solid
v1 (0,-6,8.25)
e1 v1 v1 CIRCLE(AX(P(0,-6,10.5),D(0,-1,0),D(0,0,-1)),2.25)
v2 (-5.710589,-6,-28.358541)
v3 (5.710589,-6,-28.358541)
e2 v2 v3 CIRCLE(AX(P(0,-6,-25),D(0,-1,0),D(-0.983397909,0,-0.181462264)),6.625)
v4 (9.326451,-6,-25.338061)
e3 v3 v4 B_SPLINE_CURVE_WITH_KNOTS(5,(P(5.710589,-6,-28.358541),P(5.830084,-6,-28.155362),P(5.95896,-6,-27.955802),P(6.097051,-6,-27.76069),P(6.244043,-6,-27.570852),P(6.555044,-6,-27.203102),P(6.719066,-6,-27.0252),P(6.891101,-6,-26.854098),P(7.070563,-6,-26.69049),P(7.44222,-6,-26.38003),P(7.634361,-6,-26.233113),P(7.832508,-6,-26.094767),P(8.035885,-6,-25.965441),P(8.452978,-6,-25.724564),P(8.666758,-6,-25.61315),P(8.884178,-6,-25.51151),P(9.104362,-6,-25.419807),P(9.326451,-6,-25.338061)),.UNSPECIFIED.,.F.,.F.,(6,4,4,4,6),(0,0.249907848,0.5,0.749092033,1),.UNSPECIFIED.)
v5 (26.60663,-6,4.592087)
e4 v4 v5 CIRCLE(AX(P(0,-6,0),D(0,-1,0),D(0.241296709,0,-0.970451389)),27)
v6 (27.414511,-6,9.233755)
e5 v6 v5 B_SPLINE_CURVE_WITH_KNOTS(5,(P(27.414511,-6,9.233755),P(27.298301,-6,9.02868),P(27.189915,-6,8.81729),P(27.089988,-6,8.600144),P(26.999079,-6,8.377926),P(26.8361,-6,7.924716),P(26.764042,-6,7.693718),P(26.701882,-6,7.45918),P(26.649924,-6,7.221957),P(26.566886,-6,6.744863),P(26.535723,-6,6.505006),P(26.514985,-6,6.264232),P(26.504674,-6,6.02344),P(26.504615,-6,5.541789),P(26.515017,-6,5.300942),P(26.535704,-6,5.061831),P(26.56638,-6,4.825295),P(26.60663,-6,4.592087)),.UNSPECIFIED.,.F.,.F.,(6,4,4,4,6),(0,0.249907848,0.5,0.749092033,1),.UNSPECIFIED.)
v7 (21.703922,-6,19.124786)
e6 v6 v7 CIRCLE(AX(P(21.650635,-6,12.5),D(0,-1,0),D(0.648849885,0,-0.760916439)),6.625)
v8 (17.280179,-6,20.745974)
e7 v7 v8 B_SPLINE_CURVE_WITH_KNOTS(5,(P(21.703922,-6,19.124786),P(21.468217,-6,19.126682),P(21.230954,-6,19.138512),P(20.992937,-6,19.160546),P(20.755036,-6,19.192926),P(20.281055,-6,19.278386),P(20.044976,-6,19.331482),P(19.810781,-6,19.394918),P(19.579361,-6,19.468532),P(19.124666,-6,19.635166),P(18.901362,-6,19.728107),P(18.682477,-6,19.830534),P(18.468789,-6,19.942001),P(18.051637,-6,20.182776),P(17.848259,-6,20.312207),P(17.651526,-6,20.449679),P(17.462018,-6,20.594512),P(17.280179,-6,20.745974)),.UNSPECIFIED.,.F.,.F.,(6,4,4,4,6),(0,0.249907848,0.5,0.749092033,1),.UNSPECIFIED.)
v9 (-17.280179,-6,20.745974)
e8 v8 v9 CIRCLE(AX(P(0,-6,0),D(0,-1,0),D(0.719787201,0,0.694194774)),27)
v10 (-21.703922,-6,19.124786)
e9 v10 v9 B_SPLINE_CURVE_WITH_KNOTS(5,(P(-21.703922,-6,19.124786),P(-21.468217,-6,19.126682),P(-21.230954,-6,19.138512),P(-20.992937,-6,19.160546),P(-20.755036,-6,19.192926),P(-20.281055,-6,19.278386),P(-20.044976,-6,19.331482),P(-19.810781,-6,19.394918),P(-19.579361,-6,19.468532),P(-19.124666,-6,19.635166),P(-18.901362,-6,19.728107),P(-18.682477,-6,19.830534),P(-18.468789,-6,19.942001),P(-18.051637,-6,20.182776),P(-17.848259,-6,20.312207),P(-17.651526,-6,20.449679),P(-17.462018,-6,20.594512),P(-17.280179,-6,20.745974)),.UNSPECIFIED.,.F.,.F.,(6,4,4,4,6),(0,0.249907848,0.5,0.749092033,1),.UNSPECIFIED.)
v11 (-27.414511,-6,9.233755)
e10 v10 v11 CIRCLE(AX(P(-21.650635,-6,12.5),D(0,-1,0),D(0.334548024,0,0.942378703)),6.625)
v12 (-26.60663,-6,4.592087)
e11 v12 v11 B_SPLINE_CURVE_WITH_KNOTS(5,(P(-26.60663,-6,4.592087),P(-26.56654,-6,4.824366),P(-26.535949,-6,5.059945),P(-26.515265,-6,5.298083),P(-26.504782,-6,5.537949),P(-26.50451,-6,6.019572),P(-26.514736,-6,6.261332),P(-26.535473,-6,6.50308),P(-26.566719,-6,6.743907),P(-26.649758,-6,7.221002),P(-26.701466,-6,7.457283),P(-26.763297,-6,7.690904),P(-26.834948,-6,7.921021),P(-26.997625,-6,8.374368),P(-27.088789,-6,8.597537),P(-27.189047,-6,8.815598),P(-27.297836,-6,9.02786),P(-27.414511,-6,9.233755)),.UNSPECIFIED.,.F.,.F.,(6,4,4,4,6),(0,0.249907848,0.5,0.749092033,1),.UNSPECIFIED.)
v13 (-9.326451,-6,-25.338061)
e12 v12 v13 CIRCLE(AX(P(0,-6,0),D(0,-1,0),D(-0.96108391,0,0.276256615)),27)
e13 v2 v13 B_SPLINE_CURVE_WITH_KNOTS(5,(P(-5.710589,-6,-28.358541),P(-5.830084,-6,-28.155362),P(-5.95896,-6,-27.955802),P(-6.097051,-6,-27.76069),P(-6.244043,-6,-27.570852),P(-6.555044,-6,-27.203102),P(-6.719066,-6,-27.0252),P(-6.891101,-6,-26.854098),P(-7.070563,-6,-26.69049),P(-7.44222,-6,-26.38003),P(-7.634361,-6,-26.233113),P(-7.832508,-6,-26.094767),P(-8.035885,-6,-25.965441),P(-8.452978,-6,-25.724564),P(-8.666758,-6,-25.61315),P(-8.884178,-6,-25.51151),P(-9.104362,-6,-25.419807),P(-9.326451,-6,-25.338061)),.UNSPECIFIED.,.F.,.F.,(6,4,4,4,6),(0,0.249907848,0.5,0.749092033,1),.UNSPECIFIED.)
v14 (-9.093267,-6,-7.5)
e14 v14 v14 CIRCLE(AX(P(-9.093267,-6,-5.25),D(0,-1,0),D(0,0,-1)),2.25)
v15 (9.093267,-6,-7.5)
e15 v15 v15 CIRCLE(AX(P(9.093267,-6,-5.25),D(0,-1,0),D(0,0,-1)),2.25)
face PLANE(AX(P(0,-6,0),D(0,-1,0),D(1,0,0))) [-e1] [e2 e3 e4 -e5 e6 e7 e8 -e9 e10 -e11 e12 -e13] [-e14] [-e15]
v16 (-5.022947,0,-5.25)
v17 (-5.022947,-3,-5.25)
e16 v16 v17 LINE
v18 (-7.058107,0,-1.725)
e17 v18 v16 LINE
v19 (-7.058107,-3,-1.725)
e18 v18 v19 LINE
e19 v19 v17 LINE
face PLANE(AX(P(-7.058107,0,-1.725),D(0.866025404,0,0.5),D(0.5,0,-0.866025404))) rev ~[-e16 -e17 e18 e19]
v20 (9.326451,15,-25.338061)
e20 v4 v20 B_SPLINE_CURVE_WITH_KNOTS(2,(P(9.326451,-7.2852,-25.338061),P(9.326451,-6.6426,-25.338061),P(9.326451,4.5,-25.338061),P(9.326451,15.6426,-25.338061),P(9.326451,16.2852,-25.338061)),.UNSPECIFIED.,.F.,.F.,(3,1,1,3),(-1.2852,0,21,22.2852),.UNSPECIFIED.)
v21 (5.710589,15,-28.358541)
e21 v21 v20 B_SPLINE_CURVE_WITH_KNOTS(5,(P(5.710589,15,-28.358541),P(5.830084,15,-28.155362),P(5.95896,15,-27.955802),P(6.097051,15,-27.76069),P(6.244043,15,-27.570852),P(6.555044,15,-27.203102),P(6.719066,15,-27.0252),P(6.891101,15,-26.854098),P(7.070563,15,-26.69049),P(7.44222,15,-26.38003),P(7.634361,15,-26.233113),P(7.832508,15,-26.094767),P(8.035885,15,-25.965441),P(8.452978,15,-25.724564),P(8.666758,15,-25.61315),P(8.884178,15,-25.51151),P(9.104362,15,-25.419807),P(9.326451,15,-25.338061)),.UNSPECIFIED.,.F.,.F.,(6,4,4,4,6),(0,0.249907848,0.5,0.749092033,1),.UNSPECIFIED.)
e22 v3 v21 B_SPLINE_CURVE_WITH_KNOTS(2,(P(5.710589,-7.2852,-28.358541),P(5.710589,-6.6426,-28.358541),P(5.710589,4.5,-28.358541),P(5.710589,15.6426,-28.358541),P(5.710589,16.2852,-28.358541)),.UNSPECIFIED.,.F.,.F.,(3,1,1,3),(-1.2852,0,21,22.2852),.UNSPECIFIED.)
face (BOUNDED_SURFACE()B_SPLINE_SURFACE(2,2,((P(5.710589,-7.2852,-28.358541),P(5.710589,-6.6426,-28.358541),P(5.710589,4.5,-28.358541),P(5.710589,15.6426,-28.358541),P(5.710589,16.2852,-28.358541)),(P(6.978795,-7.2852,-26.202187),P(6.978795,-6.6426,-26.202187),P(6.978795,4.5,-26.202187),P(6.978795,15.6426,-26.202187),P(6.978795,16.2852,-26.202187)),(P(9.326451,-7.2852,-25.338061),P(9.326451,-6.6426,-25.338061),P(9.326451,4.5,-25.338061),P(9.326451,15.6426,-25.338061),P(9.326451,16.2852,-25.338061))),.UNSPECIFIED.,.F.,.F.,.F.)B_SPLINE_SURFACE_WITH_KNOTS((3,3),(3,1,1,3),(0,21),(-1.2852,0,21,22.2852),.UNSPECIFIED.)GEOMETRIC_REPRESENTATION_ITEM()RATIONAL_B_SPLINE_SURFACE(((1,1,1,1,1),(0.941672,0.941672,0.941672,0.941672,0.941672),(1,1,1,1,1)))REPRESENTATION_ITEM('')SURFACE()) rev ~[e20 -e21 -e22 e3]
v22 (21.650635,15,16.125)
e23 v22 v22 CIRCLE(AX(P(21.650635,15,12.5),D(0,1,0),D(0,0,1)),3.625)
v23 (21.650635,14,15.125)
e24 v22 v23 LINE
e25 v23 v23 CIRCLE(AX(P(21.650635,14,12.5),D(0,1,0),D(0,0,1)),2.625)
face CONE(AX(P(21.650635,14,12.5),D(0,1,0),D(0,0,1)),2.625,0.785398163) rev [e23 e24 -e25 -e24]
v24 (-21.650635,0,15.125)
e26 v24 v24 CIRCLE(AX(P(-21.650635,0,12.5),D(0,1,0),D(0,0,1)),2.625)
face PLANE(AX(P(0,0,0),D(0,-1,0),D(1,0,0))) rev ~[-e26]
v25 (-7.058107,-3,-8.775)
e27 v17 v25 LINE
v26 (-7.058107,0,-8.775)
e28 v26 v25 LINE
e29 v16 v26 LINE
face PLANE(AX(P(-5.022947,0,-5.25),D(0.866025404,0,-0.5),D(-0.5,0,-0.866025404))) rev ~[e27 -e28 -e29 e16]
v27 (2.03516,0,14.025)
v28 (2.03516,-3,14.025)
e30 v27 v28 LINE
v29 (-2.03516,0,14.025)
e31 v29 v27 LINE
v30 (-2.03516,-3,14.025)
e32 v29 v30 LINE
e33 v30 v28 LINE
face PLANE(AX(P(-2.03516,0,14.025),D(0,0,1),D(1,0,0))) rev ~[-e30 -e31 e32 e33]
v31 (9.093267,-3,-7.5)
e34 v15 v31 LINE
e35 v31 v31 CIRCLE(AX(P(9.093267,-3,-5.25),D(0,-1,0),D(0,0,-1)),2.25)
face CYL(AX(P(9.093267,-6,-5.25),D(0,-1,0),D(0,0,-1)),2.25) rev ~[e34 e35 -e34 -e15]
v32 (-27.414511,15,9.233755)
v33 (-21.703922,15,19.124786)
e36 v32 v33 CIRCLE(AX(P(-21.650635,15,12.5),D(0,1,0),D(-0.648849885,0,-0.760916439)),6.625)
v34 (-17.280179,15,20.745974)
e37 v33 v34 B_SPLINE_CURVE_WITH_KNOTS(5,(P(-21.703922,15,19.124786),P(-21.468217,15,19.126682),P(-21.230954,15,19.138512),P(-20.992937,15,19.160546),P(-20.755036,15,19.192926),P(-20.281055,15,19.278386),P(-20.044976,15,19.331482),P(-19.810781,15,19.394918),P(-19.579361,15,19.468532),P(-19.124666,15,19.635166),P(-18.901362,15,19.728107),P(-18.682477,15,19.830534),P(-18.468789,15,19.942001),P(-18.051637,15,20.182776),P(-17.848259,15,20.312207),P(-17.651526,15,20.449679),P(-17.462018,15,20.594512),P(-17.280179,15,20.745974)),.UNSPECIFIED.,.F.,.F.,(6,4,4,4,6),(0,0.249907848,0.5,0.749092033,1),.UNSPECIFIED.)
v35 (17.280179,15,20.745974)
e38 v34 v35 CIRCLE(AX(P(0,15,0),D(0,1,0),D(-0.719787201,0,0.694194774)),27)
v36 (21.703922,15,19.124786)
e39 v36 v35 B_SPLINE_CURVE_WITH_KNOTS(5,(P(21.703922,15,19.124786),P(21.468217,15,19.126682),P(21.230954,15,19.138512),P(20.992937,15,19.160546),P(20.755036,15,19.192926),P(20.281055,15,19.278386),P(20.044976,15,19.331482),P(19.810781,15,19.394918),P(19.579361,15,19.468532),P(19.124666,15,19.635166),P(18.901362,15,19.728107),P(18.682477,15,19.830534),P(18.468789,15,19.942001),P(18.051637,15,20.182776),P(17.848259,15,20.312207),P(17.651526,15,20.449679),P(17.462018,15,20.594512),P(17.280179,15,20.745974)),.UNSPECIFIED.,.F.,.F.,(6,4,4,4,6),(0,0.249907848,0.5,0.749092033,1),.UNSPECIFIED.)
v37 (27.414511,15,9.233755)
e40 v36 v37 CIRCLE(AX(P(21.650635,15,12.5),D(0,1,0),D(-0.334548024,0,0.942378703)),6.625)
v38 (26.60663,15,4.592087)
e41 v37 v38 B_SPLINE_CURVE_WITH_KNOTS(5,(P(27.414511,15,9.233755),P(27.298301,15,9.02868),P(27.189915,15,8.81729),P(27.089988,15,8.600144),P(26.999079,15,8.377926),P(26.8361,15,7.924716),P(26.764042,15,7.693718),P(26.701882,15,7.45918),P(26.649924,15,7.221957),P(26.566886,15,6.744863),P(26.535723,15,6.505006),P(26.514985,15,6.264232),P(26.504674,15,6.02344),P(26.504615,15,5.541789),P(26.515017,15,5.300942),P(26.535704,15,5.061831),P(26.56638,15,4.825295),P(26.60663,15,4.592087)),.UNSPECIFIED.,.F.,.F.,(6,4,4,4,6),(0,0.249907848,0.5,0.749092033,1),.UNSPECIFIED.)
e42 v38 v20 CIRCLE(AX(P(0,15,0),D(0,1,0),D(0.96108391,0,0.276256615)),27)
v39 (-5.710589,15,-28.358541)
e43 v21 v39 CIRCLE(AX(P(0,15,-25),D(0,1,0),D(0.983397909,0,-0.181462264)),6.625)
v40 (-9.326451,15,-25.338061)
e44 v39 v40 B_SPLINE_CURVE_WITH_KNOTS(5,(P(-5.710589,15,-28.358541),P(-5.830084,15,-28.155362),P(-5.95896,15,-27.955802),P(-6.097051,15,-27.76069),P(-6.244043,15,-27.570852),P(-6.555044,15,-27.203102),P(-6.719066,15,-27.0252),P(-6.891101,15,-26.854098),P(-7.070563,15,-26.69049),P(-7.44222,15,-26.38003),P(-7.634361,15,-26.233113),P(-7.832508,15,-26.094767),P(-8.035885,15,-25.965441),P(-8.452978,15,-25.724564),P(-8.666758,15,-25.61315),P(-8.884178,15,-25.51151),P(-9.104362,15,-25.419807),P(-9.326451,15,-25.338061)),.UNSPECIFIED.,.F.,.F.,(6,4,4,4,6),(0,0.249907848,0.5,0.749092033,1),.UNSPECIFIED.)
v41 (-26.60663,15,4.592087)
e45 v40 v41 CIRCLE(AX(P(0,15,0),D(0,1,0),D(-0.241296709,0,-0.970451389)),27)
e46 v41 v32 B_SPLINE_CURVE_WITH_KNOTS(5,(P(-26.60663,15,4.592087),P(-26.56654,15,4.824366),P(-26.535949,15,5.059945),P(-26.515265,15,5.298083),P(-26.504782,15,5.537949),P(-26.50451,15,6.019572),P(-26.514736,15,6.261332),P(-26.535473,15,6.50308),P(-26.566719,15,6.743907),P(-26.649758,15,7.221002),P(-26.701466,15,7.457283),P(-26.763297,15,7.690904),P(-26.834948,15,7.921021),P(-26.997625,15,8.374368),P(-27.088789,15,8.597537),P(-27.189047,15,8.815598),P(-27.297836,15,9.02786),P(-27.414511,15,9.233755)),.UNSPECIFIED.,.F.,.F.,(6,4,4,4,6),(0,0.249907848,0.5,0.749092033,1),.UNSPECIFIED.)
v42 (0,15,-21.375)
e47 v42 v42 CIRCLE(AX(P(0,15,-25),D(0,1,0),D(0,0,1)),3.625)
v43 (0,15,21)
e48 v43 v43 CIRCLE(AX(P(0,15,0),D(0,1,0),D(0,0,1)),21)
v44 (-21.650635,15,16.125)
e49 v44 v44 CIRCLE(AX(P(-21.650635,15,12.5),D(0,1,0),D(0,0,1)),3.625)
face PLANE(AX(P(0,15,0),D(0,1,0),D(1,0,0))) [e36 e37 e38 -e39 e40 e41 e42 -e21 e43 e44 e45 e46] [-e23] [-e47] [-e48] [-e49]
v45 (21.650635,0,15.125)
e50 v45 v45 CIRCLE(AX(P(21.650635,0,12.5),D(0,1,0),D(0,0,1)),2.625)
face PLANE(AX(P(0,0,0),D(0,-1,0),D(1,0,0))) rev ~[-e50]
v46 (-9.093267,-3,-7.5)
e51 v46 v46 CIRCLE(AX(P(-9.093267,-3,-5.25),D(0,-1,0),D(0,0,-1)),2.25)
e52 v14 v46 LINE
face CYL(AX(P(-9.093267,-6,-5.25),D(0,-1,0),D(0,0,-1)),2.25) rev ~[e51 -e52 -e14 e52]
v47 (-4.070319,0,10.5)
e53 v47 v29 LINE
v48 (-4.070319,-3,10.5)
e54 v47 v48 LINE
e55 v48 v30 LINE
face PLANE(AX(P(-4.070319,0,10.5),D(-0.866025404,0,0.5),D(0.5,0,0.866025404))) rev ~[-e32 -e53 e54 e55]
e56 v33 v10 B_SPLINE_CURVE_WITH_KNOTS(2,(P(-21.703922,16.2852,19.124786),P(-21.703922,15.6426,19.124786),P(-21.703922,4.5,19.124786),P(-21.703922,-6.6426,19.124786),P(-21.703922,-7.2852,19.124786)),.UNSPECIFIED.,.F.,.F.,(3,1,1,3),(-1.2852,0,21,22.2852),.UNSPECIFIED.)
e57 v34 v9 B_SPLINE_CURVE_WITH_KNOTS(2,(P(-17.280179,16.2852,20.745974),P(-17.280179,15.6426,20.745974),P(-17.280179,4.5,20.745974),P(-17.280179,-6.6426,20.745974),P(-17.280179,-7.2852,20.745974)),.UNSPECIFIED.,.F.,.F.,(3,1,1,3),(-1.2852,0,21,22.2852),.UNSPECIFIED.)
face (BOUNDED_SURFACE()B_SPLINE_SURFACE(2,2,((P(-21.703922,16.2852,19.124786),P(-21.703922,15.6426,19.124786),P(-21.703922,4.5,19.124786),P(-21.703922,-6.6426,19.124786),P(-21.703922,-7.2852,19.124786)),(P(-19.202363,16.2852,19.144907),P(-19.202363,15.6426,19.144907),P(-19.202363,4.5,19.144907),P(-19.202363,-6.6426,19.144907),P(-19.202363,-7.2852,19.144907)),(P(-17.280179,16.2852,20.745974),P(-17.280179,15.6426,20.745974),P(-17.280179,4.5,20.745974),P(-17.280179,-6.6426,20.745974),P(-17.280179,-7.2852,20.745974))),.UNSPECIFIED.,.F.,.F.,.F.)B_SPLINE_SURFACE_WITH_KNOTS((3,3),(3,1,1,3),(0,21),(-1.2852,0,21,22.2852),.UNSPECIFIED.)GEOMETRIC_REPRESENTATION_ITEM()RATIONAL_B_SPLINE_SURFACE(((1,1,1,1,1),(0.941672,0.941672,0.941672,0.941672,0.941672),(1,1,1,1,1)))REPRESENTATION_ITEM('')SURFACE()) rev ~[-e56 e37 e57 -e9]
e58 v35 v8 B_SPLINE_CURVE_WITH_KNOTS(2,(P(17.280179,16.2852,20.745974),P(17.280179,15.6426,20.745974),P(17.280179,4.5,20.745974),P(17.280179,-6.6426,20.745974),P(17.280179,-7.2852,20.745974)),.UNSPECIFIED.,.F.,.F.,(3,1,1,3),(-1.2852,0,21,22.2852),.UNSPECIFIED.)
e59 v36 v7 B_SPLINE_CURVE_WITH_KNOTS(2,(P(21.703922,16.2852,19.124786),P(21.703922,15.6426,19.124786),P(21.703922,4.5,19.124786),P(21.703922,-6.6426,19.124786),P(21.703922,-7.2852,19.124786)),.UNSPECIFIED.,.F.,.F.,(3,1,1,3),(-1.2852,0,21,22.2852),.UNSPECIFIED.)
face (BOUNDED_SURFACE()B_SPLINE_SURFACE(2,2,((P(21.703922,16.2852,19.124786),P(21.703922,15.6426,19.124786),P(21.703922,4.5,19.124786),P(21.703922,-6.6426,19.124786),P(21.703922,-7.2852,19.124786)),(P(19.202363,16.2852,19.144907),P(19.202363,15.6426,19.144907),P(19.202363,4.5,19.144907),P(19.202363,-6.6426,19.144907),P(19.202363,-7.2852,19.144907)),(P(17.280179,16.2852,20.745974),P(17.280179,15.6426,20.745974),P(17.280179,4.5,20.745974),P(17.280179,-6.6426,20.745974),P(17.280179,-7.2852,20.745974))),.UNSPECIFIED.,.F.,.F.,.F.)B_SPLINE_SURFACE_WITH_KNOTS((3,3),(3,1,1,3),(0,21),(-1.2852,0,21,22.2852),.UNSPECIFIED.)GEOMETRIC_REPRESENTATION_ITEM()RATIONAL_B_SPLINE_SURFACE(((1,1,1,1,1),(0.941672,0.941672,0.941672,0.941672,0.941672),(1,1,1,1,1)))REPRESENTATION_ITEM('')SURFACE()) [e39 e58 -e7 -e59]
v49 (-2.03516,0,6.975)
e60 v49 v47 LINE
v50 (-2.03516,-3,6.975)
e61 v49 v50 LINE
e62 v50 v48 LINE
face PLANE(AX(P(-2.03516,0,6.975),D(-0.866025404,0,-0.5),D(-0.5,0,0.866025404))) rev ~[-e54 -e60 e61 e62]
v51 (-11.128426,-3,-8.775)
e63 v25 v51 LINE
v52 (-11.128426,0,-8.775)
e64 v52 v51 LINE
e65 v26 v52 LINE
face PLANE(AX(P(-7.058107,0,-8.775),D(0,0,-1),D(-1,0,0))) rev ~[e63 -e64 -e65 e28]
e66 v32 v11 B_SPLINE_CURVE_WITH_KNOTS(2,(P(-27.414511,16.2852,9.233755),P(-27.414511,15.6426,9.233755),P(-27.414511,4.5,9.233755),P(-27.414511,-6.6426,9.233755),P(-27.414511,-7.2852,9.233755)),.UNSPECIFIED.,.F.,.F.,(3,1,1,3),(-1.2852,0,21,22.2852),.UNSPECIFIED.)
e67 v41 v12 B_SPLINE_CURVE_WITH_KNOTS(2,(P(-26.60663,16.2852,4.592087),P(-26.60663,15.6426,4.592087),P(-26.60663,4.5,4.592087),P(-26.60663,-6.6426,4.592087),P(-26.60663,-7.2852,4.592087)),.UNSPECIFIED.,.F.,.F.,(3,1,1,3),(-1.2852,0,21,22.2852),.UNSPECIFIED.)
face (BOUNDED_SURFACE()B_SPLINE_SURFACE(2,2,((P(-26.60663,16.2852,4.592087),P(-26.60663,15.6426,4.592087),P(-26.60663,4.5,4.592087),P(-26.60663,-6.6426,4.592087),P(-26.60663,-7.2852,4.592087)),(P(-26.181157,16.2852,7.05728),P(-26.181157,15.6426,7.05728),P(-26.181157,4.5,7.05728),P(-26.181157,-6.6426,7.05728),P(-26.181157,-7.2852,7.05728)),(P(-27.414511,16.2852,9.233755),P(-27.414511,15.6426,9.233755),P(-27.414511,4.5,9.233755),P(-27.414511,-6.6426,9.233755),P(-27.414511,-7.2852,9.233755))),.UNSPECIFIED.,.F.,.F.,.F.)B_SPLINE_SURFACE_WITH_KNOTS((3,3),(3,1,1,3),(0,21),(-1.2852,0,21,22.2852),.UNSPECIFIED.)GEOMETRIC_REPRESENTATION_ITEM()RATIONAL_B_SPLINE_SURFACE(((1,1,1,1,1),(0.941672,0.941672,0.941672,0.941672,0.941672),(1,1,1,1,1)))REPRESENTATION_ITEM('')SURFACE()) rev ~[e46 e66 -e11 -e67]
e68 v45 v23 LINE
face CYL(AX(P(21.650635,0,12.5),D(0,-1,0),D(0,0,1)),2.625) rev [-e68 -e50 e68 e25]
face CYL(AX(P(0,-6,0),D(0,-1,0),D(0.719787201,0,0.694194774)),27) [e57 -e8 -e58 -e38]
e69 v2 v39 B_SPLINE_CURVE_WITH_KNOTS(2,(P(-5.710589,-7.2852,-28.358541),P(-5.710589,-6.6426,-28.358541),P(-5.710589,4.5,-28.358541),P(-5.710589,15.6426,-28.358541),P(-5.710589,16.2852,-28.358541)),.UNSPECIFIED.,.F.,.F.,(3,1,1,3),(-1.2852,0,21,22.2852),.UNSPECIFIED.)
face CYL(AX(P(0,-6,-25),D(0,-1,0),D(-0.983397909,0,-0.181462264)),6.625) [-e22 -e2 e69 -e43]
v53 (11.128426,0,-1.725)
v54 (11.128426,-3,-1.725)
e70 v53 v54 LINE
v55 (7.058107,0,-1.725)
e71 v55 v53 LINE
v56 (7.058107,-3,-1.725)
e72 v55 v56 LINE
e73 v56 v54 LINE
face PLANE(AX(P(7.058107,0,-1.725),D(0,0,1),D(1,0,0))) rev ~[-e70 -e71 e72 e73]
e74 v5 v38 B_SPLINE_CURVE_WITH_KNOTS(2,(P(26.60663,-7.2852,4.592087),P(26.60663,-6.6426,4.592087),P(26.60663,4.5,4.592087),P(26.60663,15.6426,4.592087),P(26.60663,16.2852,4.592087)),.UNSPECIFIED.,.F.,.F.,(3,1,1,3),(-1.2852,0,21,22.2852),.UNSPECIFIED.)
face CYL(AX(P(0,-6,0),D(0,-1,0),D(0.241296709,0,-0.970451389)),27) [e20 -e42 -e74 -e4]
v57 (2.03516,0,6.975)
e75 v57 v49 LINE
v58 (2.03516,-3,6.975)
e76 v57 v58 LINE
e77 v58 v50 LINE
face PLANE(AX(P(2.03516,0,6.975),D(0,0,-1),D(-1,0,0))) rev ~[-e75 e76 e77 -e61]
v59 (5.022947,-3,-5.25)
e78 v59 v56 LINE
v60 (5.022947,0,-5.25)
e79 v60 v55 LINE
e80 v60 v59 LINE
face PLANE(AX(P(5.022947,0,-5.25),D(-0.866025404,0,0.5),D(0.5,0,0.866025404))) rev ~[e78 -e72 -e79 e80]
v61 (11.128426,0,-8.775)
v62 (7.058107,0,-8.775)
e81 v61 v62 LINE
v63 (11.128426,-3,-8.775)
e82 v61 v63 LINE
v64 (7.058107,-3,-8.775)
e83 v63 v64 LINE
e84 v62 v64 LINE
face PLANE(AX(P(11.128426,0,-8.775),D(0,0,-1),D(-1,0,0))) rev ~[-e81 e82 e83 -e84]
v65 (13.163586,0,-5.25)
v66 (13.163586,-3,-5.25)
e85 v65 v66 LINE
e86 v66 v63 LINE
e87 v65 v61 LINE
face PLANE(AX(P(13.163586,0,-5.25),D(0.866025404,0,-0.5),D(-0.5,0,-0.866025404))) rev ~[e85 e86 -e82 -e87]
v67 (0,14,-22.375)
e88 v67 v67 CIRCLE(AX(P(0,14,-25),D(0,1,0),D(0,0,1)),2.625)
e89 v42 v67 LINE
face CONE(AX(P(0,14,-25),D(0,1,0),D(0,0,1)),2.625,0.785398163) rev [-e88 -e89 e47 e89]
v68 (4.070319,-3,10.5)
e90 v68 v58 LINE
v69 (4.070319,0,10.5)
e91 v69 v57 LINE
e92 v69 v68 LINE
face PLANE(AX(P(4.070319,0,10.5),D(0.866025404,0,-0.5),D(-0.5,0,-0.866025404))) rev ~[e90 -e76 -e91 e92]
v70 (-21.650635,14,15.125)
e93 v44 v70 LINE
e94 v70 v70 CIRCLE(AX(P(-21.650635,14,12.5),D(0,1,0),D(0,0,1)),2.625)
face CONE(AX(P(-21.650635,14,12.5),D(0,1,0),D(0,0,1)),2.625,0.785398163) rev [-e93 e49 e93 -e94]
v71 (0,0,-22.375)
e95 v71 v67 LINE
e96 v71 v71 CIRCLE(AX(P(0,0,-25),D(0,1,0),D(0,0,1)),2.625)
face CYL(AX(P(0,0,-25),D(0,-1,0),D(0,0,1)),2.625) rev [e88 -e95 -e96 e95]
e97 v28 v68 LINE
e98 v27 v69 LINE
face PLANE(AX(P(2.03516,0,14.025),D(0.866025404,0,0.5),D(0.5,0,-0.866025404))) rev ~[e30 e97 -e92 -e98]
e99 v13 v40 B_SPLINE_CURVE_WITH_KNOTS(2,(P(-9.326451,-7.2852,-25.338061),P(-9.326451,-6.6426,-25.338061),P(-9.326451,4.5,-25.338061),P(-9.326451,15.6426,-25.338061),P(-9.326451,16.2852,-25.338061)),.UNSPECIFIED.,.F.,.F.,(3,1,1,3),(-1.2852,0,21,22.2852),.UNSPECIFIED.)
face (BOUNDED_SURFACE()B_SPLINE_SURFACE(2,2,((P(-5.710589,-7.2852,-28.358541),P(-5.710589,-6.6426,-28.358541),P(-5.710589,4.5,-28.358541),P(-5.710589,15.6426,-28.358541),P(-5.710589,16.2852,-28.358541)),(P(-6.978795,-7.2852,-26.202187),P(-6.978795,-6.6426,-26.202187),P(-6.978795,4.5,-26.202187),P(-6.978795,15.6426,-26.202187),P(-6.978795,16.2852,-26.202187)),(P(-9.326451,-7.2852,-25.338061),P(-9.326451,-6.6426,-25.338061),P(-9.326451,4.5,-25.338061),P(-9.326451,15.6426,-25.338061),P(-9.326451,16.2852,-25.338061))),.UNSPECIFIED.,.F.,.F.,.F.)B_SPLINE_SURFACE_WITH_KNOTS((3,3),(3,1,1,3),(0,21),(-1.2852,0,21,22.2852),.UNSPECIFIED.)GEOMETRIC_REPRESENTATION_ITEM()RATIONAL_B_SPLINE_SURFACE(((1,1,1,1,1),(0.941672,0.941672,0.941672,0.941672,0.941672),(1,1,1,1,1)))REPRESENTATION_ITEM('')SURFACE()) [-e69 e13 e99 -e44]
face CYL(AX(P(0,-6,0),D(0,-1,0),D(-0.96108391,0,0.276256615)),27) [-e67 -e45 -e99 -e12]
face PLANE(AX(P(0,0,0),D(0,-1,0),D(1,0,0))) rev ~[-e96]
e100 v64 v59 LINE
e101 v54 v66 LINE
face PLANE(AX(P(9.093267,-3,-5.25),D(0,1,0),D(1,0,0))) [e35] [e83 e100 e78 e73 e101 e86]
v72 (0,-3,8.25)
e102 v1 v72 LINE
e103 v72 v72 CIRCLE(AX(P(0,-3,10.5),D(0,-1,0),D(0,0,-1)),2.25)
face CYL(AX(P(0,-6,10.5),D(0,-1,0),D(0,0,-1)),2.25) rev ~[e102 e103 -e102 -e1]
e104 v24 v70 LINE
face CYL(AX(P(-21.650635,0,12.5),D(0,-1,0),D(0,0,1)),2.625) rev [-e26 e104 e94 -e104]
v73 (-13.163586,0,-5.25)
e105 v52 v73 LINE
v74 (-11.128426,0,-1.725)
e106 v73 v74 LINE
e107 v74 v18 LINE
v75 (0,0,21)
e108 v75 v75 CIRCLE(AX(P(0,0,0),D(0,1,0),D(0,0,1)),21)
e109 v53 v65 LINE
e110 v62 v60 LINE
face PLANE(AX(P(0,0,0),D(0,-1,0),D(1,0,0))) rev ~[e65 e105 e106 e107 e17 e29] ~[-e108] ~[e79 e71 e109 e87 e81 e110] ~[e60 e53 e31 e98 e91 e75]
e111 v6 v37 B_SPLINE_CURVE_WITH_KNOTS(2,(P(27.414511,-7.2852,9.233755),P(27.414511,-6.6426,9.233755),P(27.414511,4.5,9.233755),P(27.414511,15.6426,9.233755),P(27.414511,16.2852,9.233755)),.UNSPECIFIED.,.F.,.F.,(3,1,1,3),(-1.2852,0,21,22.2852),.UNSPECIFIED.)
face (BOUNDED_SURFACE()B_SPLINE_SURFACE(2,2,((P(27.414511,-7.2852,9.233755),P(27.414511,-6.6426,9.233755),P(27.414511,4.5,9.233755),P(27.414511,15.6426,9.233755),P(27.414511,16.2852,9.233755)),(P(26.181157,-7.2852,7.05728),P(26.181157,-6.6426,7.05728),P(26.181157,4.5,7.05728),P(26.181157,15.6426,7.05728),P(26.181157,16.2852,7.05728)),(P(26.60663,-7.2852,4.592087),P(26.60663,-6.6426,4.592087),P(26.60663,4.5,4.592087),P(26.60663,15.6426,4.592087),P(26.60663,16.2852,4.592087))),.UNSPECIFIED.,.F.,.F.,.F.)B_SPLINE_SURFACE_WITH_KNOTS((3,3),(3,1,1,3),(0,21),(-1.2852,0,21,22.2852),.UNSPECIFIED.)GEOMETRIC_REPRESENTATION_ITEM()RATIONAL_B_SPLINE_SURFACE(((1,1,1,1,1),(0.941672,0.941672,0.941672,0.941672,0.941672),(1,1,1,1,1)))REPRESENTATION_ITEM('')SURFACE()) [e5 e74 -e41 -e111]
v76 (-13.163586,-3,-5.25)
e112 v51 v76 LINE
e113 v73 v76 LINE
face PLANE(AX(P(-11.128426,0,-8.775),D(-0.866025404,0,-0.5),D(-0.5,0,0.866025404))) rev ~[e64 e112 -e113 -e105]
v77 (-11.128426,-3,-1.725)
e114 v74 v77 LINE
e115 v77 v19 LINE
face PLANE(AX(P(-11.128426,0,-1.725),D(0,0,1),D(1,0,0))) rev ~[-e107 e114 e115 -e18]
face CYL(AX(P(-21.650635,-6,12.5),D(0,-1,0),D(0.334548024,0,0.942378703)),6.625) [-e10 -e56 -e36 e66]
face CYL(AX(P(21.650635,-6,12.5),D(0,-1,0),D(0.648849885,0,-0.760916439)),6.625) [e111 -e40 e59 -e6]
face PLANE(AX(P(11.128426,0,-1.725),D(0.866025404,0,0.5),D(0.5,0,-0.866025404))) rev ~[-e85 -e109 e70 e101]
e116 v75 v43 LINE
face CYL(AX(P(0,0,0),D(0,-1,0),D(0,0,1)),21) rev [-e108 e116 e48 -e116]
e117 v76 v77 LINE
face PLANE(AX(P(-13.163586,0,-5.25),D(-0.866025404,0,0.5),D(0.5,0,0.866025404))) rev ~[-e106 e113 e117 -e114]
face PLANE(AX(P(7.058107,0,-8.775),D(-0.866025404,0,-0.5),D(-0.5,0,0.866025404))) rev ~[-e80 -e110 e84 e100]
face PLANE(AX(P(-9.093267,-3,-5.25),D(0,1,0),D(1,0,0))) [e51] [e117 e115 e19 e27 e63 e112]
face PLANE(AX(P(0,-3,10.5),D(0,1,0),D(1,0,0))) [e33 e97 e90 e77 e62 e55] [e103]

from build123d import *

# Parameters (mm, degrees)
SKETCH_1_R          = 2.625
SKETCH_1_R_2        = 21
EXTRUDE_1_DEPTH     = 15
EXTRUDE_START       = 6
EXTRUDE_2_DEPTH     = 6
FILLET_1_R          = 7
CHAMFER_1_SIZE      = 1
SKETCH_3_R          = 2.25
CUT_EXTRUDE_1_DEPTH = 48.335527685
CUT_EXTRUDE_2_DEPTH = 3


with BuildPart() as part:
    # Эскиз1 → Бобышка-Вытянуть1 (new body)
    with BuildSketch(Plane(origin=(0, 0, 0), x_dir=(1, 0, 0), z_dir=(0, 1, 0))):
        with BuildLine():
            ThreePointArc((25.949265582, -7.458928593), (23.382685902, 13.5), (6.515011145, 26.2021875))
            ThreePointArc((6.515011145, 26.2021875), (0, 31.625), (-6.515011145, 26.2021875))
            ThreePointArc((-6.515011145, 26.2021875), (-23.382685902, 13.5), (-25.949265582, -7.458928593))
            ThreePointArc((-25.949265582, -7.458928593), (-27.388053395, -15.8125), (-19.434254437, -18.743258907))
            ThreePointArc((-19.434254437, -18.743258907), (0, -27), (19.434254437, -18.743258907))
            ThreePointArc((19.434254437, -18.743258907), (27.388053395, -15.8125), (25.949265582, -7.458928593))
        make_face()
        with Locations(Location((0, 25, 0), (0, 0, 270))):
            Circle(SKETCH_1_R, mode=Mode.SUBTRACT)
        with Locations(Location((0, 0, 0), (0, 0, 270))):
            Circle(SKETCH_1_R_2, mode=Mode.SUBTRACT)
        with Locations(Location((-21.650635095, -12.5, 0), (0, 0, 270))):
            Circle(SKETCH_1_R, mode=Mode.SUBTRACT)
        with Locations(Location((21.650635095, -12.5, 0), (0, 0, 270))):
            Circle(SKETCH_1_R, mode=Mode.SUBTRACT)
    extrude(amount=EXTRUDE_1_DEPTH)

    # Эскиз2 → Бобышка-Вытянуть2 (add)
    with BuildSketch(Plane.XZ.offset(EXTRUDE_START)):
        with BuildLine():
            ThreePointArc((25.949265582, 7.458928593), (27.388053395, 15.8125), (19.434254437, 18.743258907))
            ThreePointArc((19.434254437, 18.743258907), (0, 27), (-19.434254437, 18.743258907))
            ThreePointArc((-19.434254437, 18.743258907), (-27.388053395, 15.8125), (-25.949265582, 7.458928593))
            ThreePointArc((-25.949265582, 7.458928593), (-23.382685902, -13.5), (-6.515011145, -26.2021875))
            ThreePointArc((-6.515011145, -26.2021875), (0, -31.625), (6.515011145, -26.2021875))
            ThreePointArc((6.515011145, -26.2021875), (23.382685902, -13.5), (25.949265582, 7.458928593))
        make_face()
    extrude(amount=-EXTRUDE_2_DEPTH)

    # Скругление1
    fillet_1_edges = [part.edges().sort_by_distance(p)[0] for p in [
        (19.434254437, 4.5, 18.743258907),
        (-19.434254437, 4.5, 18.743258907),
        (-25.949265582, 4.5, 7.458928593),
        (-6.515011145, 4.5, -26.2021875),
        (6.515011145, 4.5, -26.2021875),
        (25.949265582, 4.5, 7.458928593),
    ]]
    fillet(fillet_1_edges, radius=FILLET_1_R)

    # Фаска1
    chamfer_1_edges = [part.edges().sort_by_distance(p)[0] for p in [
        (21.650635095, 15, 9.875),
        (0, 15, -27.625),
        (-21.650635095, 15, 9.875),
    ]]
    chamfer(chamfer_1_edges, length=CHAMFER_1_SIZE)

    # Эскиз3 → Вырез-Вытянуть1 (cut, through all)
    with BuildSketch(Plane.XZ.offset(6)):
        with Locations(Location((0, 10.5, 0), (0, 0, 270))):
            Circle(SKETCH_3_R)
        with Locations(Location((9.09326674, -5.25, 0), (0, 0, 270))):
            Circle(SKETCH_3_R)
        with Locations(Location((-9.09326674, -5.25, 0), (0, 0, 270))):
            Circle(SKETCH_3_R)
    extrude(amount=-CUT_EXTRUDE_1_DEPTH, mode=Mode.SUBTRACT)

    # Эскиз4 → Вырез-Вытянуть2 (cut)
    with BuildSketch(Plane(origin=(0, 0, 0), x_dir=(1, 0, 0), z_dir=(0, 1, 0))):
        Polygon((-4.070319398, -10.5), (-2.035159699, -14.025), (2.035159699, -14.025), (4.070319398, -10.5), (2.035159699, -6.975), (-2.035159699, -6.975), align=None)
        Polygon((11.128426439, 1.725), (13.163586138, 5.25), (11.128426439, 8.775), (7.058107041, 8.775), (5.022947342, 5.25), (7.058107041, 1.725), align=None)
        Polygon((-7.058107041, 8.775), (-11.128426439, 8.775), (-13.163586138, 5.25), (-11.128426439, 1.725), (-7.058107041, 1.725), (-5.022947342, 5.25), align=None)
    extrude(amount=-CUT_EXTRUDE_2_DEPTH, mode=Mode.SUBTRACT)


solid = part.part
